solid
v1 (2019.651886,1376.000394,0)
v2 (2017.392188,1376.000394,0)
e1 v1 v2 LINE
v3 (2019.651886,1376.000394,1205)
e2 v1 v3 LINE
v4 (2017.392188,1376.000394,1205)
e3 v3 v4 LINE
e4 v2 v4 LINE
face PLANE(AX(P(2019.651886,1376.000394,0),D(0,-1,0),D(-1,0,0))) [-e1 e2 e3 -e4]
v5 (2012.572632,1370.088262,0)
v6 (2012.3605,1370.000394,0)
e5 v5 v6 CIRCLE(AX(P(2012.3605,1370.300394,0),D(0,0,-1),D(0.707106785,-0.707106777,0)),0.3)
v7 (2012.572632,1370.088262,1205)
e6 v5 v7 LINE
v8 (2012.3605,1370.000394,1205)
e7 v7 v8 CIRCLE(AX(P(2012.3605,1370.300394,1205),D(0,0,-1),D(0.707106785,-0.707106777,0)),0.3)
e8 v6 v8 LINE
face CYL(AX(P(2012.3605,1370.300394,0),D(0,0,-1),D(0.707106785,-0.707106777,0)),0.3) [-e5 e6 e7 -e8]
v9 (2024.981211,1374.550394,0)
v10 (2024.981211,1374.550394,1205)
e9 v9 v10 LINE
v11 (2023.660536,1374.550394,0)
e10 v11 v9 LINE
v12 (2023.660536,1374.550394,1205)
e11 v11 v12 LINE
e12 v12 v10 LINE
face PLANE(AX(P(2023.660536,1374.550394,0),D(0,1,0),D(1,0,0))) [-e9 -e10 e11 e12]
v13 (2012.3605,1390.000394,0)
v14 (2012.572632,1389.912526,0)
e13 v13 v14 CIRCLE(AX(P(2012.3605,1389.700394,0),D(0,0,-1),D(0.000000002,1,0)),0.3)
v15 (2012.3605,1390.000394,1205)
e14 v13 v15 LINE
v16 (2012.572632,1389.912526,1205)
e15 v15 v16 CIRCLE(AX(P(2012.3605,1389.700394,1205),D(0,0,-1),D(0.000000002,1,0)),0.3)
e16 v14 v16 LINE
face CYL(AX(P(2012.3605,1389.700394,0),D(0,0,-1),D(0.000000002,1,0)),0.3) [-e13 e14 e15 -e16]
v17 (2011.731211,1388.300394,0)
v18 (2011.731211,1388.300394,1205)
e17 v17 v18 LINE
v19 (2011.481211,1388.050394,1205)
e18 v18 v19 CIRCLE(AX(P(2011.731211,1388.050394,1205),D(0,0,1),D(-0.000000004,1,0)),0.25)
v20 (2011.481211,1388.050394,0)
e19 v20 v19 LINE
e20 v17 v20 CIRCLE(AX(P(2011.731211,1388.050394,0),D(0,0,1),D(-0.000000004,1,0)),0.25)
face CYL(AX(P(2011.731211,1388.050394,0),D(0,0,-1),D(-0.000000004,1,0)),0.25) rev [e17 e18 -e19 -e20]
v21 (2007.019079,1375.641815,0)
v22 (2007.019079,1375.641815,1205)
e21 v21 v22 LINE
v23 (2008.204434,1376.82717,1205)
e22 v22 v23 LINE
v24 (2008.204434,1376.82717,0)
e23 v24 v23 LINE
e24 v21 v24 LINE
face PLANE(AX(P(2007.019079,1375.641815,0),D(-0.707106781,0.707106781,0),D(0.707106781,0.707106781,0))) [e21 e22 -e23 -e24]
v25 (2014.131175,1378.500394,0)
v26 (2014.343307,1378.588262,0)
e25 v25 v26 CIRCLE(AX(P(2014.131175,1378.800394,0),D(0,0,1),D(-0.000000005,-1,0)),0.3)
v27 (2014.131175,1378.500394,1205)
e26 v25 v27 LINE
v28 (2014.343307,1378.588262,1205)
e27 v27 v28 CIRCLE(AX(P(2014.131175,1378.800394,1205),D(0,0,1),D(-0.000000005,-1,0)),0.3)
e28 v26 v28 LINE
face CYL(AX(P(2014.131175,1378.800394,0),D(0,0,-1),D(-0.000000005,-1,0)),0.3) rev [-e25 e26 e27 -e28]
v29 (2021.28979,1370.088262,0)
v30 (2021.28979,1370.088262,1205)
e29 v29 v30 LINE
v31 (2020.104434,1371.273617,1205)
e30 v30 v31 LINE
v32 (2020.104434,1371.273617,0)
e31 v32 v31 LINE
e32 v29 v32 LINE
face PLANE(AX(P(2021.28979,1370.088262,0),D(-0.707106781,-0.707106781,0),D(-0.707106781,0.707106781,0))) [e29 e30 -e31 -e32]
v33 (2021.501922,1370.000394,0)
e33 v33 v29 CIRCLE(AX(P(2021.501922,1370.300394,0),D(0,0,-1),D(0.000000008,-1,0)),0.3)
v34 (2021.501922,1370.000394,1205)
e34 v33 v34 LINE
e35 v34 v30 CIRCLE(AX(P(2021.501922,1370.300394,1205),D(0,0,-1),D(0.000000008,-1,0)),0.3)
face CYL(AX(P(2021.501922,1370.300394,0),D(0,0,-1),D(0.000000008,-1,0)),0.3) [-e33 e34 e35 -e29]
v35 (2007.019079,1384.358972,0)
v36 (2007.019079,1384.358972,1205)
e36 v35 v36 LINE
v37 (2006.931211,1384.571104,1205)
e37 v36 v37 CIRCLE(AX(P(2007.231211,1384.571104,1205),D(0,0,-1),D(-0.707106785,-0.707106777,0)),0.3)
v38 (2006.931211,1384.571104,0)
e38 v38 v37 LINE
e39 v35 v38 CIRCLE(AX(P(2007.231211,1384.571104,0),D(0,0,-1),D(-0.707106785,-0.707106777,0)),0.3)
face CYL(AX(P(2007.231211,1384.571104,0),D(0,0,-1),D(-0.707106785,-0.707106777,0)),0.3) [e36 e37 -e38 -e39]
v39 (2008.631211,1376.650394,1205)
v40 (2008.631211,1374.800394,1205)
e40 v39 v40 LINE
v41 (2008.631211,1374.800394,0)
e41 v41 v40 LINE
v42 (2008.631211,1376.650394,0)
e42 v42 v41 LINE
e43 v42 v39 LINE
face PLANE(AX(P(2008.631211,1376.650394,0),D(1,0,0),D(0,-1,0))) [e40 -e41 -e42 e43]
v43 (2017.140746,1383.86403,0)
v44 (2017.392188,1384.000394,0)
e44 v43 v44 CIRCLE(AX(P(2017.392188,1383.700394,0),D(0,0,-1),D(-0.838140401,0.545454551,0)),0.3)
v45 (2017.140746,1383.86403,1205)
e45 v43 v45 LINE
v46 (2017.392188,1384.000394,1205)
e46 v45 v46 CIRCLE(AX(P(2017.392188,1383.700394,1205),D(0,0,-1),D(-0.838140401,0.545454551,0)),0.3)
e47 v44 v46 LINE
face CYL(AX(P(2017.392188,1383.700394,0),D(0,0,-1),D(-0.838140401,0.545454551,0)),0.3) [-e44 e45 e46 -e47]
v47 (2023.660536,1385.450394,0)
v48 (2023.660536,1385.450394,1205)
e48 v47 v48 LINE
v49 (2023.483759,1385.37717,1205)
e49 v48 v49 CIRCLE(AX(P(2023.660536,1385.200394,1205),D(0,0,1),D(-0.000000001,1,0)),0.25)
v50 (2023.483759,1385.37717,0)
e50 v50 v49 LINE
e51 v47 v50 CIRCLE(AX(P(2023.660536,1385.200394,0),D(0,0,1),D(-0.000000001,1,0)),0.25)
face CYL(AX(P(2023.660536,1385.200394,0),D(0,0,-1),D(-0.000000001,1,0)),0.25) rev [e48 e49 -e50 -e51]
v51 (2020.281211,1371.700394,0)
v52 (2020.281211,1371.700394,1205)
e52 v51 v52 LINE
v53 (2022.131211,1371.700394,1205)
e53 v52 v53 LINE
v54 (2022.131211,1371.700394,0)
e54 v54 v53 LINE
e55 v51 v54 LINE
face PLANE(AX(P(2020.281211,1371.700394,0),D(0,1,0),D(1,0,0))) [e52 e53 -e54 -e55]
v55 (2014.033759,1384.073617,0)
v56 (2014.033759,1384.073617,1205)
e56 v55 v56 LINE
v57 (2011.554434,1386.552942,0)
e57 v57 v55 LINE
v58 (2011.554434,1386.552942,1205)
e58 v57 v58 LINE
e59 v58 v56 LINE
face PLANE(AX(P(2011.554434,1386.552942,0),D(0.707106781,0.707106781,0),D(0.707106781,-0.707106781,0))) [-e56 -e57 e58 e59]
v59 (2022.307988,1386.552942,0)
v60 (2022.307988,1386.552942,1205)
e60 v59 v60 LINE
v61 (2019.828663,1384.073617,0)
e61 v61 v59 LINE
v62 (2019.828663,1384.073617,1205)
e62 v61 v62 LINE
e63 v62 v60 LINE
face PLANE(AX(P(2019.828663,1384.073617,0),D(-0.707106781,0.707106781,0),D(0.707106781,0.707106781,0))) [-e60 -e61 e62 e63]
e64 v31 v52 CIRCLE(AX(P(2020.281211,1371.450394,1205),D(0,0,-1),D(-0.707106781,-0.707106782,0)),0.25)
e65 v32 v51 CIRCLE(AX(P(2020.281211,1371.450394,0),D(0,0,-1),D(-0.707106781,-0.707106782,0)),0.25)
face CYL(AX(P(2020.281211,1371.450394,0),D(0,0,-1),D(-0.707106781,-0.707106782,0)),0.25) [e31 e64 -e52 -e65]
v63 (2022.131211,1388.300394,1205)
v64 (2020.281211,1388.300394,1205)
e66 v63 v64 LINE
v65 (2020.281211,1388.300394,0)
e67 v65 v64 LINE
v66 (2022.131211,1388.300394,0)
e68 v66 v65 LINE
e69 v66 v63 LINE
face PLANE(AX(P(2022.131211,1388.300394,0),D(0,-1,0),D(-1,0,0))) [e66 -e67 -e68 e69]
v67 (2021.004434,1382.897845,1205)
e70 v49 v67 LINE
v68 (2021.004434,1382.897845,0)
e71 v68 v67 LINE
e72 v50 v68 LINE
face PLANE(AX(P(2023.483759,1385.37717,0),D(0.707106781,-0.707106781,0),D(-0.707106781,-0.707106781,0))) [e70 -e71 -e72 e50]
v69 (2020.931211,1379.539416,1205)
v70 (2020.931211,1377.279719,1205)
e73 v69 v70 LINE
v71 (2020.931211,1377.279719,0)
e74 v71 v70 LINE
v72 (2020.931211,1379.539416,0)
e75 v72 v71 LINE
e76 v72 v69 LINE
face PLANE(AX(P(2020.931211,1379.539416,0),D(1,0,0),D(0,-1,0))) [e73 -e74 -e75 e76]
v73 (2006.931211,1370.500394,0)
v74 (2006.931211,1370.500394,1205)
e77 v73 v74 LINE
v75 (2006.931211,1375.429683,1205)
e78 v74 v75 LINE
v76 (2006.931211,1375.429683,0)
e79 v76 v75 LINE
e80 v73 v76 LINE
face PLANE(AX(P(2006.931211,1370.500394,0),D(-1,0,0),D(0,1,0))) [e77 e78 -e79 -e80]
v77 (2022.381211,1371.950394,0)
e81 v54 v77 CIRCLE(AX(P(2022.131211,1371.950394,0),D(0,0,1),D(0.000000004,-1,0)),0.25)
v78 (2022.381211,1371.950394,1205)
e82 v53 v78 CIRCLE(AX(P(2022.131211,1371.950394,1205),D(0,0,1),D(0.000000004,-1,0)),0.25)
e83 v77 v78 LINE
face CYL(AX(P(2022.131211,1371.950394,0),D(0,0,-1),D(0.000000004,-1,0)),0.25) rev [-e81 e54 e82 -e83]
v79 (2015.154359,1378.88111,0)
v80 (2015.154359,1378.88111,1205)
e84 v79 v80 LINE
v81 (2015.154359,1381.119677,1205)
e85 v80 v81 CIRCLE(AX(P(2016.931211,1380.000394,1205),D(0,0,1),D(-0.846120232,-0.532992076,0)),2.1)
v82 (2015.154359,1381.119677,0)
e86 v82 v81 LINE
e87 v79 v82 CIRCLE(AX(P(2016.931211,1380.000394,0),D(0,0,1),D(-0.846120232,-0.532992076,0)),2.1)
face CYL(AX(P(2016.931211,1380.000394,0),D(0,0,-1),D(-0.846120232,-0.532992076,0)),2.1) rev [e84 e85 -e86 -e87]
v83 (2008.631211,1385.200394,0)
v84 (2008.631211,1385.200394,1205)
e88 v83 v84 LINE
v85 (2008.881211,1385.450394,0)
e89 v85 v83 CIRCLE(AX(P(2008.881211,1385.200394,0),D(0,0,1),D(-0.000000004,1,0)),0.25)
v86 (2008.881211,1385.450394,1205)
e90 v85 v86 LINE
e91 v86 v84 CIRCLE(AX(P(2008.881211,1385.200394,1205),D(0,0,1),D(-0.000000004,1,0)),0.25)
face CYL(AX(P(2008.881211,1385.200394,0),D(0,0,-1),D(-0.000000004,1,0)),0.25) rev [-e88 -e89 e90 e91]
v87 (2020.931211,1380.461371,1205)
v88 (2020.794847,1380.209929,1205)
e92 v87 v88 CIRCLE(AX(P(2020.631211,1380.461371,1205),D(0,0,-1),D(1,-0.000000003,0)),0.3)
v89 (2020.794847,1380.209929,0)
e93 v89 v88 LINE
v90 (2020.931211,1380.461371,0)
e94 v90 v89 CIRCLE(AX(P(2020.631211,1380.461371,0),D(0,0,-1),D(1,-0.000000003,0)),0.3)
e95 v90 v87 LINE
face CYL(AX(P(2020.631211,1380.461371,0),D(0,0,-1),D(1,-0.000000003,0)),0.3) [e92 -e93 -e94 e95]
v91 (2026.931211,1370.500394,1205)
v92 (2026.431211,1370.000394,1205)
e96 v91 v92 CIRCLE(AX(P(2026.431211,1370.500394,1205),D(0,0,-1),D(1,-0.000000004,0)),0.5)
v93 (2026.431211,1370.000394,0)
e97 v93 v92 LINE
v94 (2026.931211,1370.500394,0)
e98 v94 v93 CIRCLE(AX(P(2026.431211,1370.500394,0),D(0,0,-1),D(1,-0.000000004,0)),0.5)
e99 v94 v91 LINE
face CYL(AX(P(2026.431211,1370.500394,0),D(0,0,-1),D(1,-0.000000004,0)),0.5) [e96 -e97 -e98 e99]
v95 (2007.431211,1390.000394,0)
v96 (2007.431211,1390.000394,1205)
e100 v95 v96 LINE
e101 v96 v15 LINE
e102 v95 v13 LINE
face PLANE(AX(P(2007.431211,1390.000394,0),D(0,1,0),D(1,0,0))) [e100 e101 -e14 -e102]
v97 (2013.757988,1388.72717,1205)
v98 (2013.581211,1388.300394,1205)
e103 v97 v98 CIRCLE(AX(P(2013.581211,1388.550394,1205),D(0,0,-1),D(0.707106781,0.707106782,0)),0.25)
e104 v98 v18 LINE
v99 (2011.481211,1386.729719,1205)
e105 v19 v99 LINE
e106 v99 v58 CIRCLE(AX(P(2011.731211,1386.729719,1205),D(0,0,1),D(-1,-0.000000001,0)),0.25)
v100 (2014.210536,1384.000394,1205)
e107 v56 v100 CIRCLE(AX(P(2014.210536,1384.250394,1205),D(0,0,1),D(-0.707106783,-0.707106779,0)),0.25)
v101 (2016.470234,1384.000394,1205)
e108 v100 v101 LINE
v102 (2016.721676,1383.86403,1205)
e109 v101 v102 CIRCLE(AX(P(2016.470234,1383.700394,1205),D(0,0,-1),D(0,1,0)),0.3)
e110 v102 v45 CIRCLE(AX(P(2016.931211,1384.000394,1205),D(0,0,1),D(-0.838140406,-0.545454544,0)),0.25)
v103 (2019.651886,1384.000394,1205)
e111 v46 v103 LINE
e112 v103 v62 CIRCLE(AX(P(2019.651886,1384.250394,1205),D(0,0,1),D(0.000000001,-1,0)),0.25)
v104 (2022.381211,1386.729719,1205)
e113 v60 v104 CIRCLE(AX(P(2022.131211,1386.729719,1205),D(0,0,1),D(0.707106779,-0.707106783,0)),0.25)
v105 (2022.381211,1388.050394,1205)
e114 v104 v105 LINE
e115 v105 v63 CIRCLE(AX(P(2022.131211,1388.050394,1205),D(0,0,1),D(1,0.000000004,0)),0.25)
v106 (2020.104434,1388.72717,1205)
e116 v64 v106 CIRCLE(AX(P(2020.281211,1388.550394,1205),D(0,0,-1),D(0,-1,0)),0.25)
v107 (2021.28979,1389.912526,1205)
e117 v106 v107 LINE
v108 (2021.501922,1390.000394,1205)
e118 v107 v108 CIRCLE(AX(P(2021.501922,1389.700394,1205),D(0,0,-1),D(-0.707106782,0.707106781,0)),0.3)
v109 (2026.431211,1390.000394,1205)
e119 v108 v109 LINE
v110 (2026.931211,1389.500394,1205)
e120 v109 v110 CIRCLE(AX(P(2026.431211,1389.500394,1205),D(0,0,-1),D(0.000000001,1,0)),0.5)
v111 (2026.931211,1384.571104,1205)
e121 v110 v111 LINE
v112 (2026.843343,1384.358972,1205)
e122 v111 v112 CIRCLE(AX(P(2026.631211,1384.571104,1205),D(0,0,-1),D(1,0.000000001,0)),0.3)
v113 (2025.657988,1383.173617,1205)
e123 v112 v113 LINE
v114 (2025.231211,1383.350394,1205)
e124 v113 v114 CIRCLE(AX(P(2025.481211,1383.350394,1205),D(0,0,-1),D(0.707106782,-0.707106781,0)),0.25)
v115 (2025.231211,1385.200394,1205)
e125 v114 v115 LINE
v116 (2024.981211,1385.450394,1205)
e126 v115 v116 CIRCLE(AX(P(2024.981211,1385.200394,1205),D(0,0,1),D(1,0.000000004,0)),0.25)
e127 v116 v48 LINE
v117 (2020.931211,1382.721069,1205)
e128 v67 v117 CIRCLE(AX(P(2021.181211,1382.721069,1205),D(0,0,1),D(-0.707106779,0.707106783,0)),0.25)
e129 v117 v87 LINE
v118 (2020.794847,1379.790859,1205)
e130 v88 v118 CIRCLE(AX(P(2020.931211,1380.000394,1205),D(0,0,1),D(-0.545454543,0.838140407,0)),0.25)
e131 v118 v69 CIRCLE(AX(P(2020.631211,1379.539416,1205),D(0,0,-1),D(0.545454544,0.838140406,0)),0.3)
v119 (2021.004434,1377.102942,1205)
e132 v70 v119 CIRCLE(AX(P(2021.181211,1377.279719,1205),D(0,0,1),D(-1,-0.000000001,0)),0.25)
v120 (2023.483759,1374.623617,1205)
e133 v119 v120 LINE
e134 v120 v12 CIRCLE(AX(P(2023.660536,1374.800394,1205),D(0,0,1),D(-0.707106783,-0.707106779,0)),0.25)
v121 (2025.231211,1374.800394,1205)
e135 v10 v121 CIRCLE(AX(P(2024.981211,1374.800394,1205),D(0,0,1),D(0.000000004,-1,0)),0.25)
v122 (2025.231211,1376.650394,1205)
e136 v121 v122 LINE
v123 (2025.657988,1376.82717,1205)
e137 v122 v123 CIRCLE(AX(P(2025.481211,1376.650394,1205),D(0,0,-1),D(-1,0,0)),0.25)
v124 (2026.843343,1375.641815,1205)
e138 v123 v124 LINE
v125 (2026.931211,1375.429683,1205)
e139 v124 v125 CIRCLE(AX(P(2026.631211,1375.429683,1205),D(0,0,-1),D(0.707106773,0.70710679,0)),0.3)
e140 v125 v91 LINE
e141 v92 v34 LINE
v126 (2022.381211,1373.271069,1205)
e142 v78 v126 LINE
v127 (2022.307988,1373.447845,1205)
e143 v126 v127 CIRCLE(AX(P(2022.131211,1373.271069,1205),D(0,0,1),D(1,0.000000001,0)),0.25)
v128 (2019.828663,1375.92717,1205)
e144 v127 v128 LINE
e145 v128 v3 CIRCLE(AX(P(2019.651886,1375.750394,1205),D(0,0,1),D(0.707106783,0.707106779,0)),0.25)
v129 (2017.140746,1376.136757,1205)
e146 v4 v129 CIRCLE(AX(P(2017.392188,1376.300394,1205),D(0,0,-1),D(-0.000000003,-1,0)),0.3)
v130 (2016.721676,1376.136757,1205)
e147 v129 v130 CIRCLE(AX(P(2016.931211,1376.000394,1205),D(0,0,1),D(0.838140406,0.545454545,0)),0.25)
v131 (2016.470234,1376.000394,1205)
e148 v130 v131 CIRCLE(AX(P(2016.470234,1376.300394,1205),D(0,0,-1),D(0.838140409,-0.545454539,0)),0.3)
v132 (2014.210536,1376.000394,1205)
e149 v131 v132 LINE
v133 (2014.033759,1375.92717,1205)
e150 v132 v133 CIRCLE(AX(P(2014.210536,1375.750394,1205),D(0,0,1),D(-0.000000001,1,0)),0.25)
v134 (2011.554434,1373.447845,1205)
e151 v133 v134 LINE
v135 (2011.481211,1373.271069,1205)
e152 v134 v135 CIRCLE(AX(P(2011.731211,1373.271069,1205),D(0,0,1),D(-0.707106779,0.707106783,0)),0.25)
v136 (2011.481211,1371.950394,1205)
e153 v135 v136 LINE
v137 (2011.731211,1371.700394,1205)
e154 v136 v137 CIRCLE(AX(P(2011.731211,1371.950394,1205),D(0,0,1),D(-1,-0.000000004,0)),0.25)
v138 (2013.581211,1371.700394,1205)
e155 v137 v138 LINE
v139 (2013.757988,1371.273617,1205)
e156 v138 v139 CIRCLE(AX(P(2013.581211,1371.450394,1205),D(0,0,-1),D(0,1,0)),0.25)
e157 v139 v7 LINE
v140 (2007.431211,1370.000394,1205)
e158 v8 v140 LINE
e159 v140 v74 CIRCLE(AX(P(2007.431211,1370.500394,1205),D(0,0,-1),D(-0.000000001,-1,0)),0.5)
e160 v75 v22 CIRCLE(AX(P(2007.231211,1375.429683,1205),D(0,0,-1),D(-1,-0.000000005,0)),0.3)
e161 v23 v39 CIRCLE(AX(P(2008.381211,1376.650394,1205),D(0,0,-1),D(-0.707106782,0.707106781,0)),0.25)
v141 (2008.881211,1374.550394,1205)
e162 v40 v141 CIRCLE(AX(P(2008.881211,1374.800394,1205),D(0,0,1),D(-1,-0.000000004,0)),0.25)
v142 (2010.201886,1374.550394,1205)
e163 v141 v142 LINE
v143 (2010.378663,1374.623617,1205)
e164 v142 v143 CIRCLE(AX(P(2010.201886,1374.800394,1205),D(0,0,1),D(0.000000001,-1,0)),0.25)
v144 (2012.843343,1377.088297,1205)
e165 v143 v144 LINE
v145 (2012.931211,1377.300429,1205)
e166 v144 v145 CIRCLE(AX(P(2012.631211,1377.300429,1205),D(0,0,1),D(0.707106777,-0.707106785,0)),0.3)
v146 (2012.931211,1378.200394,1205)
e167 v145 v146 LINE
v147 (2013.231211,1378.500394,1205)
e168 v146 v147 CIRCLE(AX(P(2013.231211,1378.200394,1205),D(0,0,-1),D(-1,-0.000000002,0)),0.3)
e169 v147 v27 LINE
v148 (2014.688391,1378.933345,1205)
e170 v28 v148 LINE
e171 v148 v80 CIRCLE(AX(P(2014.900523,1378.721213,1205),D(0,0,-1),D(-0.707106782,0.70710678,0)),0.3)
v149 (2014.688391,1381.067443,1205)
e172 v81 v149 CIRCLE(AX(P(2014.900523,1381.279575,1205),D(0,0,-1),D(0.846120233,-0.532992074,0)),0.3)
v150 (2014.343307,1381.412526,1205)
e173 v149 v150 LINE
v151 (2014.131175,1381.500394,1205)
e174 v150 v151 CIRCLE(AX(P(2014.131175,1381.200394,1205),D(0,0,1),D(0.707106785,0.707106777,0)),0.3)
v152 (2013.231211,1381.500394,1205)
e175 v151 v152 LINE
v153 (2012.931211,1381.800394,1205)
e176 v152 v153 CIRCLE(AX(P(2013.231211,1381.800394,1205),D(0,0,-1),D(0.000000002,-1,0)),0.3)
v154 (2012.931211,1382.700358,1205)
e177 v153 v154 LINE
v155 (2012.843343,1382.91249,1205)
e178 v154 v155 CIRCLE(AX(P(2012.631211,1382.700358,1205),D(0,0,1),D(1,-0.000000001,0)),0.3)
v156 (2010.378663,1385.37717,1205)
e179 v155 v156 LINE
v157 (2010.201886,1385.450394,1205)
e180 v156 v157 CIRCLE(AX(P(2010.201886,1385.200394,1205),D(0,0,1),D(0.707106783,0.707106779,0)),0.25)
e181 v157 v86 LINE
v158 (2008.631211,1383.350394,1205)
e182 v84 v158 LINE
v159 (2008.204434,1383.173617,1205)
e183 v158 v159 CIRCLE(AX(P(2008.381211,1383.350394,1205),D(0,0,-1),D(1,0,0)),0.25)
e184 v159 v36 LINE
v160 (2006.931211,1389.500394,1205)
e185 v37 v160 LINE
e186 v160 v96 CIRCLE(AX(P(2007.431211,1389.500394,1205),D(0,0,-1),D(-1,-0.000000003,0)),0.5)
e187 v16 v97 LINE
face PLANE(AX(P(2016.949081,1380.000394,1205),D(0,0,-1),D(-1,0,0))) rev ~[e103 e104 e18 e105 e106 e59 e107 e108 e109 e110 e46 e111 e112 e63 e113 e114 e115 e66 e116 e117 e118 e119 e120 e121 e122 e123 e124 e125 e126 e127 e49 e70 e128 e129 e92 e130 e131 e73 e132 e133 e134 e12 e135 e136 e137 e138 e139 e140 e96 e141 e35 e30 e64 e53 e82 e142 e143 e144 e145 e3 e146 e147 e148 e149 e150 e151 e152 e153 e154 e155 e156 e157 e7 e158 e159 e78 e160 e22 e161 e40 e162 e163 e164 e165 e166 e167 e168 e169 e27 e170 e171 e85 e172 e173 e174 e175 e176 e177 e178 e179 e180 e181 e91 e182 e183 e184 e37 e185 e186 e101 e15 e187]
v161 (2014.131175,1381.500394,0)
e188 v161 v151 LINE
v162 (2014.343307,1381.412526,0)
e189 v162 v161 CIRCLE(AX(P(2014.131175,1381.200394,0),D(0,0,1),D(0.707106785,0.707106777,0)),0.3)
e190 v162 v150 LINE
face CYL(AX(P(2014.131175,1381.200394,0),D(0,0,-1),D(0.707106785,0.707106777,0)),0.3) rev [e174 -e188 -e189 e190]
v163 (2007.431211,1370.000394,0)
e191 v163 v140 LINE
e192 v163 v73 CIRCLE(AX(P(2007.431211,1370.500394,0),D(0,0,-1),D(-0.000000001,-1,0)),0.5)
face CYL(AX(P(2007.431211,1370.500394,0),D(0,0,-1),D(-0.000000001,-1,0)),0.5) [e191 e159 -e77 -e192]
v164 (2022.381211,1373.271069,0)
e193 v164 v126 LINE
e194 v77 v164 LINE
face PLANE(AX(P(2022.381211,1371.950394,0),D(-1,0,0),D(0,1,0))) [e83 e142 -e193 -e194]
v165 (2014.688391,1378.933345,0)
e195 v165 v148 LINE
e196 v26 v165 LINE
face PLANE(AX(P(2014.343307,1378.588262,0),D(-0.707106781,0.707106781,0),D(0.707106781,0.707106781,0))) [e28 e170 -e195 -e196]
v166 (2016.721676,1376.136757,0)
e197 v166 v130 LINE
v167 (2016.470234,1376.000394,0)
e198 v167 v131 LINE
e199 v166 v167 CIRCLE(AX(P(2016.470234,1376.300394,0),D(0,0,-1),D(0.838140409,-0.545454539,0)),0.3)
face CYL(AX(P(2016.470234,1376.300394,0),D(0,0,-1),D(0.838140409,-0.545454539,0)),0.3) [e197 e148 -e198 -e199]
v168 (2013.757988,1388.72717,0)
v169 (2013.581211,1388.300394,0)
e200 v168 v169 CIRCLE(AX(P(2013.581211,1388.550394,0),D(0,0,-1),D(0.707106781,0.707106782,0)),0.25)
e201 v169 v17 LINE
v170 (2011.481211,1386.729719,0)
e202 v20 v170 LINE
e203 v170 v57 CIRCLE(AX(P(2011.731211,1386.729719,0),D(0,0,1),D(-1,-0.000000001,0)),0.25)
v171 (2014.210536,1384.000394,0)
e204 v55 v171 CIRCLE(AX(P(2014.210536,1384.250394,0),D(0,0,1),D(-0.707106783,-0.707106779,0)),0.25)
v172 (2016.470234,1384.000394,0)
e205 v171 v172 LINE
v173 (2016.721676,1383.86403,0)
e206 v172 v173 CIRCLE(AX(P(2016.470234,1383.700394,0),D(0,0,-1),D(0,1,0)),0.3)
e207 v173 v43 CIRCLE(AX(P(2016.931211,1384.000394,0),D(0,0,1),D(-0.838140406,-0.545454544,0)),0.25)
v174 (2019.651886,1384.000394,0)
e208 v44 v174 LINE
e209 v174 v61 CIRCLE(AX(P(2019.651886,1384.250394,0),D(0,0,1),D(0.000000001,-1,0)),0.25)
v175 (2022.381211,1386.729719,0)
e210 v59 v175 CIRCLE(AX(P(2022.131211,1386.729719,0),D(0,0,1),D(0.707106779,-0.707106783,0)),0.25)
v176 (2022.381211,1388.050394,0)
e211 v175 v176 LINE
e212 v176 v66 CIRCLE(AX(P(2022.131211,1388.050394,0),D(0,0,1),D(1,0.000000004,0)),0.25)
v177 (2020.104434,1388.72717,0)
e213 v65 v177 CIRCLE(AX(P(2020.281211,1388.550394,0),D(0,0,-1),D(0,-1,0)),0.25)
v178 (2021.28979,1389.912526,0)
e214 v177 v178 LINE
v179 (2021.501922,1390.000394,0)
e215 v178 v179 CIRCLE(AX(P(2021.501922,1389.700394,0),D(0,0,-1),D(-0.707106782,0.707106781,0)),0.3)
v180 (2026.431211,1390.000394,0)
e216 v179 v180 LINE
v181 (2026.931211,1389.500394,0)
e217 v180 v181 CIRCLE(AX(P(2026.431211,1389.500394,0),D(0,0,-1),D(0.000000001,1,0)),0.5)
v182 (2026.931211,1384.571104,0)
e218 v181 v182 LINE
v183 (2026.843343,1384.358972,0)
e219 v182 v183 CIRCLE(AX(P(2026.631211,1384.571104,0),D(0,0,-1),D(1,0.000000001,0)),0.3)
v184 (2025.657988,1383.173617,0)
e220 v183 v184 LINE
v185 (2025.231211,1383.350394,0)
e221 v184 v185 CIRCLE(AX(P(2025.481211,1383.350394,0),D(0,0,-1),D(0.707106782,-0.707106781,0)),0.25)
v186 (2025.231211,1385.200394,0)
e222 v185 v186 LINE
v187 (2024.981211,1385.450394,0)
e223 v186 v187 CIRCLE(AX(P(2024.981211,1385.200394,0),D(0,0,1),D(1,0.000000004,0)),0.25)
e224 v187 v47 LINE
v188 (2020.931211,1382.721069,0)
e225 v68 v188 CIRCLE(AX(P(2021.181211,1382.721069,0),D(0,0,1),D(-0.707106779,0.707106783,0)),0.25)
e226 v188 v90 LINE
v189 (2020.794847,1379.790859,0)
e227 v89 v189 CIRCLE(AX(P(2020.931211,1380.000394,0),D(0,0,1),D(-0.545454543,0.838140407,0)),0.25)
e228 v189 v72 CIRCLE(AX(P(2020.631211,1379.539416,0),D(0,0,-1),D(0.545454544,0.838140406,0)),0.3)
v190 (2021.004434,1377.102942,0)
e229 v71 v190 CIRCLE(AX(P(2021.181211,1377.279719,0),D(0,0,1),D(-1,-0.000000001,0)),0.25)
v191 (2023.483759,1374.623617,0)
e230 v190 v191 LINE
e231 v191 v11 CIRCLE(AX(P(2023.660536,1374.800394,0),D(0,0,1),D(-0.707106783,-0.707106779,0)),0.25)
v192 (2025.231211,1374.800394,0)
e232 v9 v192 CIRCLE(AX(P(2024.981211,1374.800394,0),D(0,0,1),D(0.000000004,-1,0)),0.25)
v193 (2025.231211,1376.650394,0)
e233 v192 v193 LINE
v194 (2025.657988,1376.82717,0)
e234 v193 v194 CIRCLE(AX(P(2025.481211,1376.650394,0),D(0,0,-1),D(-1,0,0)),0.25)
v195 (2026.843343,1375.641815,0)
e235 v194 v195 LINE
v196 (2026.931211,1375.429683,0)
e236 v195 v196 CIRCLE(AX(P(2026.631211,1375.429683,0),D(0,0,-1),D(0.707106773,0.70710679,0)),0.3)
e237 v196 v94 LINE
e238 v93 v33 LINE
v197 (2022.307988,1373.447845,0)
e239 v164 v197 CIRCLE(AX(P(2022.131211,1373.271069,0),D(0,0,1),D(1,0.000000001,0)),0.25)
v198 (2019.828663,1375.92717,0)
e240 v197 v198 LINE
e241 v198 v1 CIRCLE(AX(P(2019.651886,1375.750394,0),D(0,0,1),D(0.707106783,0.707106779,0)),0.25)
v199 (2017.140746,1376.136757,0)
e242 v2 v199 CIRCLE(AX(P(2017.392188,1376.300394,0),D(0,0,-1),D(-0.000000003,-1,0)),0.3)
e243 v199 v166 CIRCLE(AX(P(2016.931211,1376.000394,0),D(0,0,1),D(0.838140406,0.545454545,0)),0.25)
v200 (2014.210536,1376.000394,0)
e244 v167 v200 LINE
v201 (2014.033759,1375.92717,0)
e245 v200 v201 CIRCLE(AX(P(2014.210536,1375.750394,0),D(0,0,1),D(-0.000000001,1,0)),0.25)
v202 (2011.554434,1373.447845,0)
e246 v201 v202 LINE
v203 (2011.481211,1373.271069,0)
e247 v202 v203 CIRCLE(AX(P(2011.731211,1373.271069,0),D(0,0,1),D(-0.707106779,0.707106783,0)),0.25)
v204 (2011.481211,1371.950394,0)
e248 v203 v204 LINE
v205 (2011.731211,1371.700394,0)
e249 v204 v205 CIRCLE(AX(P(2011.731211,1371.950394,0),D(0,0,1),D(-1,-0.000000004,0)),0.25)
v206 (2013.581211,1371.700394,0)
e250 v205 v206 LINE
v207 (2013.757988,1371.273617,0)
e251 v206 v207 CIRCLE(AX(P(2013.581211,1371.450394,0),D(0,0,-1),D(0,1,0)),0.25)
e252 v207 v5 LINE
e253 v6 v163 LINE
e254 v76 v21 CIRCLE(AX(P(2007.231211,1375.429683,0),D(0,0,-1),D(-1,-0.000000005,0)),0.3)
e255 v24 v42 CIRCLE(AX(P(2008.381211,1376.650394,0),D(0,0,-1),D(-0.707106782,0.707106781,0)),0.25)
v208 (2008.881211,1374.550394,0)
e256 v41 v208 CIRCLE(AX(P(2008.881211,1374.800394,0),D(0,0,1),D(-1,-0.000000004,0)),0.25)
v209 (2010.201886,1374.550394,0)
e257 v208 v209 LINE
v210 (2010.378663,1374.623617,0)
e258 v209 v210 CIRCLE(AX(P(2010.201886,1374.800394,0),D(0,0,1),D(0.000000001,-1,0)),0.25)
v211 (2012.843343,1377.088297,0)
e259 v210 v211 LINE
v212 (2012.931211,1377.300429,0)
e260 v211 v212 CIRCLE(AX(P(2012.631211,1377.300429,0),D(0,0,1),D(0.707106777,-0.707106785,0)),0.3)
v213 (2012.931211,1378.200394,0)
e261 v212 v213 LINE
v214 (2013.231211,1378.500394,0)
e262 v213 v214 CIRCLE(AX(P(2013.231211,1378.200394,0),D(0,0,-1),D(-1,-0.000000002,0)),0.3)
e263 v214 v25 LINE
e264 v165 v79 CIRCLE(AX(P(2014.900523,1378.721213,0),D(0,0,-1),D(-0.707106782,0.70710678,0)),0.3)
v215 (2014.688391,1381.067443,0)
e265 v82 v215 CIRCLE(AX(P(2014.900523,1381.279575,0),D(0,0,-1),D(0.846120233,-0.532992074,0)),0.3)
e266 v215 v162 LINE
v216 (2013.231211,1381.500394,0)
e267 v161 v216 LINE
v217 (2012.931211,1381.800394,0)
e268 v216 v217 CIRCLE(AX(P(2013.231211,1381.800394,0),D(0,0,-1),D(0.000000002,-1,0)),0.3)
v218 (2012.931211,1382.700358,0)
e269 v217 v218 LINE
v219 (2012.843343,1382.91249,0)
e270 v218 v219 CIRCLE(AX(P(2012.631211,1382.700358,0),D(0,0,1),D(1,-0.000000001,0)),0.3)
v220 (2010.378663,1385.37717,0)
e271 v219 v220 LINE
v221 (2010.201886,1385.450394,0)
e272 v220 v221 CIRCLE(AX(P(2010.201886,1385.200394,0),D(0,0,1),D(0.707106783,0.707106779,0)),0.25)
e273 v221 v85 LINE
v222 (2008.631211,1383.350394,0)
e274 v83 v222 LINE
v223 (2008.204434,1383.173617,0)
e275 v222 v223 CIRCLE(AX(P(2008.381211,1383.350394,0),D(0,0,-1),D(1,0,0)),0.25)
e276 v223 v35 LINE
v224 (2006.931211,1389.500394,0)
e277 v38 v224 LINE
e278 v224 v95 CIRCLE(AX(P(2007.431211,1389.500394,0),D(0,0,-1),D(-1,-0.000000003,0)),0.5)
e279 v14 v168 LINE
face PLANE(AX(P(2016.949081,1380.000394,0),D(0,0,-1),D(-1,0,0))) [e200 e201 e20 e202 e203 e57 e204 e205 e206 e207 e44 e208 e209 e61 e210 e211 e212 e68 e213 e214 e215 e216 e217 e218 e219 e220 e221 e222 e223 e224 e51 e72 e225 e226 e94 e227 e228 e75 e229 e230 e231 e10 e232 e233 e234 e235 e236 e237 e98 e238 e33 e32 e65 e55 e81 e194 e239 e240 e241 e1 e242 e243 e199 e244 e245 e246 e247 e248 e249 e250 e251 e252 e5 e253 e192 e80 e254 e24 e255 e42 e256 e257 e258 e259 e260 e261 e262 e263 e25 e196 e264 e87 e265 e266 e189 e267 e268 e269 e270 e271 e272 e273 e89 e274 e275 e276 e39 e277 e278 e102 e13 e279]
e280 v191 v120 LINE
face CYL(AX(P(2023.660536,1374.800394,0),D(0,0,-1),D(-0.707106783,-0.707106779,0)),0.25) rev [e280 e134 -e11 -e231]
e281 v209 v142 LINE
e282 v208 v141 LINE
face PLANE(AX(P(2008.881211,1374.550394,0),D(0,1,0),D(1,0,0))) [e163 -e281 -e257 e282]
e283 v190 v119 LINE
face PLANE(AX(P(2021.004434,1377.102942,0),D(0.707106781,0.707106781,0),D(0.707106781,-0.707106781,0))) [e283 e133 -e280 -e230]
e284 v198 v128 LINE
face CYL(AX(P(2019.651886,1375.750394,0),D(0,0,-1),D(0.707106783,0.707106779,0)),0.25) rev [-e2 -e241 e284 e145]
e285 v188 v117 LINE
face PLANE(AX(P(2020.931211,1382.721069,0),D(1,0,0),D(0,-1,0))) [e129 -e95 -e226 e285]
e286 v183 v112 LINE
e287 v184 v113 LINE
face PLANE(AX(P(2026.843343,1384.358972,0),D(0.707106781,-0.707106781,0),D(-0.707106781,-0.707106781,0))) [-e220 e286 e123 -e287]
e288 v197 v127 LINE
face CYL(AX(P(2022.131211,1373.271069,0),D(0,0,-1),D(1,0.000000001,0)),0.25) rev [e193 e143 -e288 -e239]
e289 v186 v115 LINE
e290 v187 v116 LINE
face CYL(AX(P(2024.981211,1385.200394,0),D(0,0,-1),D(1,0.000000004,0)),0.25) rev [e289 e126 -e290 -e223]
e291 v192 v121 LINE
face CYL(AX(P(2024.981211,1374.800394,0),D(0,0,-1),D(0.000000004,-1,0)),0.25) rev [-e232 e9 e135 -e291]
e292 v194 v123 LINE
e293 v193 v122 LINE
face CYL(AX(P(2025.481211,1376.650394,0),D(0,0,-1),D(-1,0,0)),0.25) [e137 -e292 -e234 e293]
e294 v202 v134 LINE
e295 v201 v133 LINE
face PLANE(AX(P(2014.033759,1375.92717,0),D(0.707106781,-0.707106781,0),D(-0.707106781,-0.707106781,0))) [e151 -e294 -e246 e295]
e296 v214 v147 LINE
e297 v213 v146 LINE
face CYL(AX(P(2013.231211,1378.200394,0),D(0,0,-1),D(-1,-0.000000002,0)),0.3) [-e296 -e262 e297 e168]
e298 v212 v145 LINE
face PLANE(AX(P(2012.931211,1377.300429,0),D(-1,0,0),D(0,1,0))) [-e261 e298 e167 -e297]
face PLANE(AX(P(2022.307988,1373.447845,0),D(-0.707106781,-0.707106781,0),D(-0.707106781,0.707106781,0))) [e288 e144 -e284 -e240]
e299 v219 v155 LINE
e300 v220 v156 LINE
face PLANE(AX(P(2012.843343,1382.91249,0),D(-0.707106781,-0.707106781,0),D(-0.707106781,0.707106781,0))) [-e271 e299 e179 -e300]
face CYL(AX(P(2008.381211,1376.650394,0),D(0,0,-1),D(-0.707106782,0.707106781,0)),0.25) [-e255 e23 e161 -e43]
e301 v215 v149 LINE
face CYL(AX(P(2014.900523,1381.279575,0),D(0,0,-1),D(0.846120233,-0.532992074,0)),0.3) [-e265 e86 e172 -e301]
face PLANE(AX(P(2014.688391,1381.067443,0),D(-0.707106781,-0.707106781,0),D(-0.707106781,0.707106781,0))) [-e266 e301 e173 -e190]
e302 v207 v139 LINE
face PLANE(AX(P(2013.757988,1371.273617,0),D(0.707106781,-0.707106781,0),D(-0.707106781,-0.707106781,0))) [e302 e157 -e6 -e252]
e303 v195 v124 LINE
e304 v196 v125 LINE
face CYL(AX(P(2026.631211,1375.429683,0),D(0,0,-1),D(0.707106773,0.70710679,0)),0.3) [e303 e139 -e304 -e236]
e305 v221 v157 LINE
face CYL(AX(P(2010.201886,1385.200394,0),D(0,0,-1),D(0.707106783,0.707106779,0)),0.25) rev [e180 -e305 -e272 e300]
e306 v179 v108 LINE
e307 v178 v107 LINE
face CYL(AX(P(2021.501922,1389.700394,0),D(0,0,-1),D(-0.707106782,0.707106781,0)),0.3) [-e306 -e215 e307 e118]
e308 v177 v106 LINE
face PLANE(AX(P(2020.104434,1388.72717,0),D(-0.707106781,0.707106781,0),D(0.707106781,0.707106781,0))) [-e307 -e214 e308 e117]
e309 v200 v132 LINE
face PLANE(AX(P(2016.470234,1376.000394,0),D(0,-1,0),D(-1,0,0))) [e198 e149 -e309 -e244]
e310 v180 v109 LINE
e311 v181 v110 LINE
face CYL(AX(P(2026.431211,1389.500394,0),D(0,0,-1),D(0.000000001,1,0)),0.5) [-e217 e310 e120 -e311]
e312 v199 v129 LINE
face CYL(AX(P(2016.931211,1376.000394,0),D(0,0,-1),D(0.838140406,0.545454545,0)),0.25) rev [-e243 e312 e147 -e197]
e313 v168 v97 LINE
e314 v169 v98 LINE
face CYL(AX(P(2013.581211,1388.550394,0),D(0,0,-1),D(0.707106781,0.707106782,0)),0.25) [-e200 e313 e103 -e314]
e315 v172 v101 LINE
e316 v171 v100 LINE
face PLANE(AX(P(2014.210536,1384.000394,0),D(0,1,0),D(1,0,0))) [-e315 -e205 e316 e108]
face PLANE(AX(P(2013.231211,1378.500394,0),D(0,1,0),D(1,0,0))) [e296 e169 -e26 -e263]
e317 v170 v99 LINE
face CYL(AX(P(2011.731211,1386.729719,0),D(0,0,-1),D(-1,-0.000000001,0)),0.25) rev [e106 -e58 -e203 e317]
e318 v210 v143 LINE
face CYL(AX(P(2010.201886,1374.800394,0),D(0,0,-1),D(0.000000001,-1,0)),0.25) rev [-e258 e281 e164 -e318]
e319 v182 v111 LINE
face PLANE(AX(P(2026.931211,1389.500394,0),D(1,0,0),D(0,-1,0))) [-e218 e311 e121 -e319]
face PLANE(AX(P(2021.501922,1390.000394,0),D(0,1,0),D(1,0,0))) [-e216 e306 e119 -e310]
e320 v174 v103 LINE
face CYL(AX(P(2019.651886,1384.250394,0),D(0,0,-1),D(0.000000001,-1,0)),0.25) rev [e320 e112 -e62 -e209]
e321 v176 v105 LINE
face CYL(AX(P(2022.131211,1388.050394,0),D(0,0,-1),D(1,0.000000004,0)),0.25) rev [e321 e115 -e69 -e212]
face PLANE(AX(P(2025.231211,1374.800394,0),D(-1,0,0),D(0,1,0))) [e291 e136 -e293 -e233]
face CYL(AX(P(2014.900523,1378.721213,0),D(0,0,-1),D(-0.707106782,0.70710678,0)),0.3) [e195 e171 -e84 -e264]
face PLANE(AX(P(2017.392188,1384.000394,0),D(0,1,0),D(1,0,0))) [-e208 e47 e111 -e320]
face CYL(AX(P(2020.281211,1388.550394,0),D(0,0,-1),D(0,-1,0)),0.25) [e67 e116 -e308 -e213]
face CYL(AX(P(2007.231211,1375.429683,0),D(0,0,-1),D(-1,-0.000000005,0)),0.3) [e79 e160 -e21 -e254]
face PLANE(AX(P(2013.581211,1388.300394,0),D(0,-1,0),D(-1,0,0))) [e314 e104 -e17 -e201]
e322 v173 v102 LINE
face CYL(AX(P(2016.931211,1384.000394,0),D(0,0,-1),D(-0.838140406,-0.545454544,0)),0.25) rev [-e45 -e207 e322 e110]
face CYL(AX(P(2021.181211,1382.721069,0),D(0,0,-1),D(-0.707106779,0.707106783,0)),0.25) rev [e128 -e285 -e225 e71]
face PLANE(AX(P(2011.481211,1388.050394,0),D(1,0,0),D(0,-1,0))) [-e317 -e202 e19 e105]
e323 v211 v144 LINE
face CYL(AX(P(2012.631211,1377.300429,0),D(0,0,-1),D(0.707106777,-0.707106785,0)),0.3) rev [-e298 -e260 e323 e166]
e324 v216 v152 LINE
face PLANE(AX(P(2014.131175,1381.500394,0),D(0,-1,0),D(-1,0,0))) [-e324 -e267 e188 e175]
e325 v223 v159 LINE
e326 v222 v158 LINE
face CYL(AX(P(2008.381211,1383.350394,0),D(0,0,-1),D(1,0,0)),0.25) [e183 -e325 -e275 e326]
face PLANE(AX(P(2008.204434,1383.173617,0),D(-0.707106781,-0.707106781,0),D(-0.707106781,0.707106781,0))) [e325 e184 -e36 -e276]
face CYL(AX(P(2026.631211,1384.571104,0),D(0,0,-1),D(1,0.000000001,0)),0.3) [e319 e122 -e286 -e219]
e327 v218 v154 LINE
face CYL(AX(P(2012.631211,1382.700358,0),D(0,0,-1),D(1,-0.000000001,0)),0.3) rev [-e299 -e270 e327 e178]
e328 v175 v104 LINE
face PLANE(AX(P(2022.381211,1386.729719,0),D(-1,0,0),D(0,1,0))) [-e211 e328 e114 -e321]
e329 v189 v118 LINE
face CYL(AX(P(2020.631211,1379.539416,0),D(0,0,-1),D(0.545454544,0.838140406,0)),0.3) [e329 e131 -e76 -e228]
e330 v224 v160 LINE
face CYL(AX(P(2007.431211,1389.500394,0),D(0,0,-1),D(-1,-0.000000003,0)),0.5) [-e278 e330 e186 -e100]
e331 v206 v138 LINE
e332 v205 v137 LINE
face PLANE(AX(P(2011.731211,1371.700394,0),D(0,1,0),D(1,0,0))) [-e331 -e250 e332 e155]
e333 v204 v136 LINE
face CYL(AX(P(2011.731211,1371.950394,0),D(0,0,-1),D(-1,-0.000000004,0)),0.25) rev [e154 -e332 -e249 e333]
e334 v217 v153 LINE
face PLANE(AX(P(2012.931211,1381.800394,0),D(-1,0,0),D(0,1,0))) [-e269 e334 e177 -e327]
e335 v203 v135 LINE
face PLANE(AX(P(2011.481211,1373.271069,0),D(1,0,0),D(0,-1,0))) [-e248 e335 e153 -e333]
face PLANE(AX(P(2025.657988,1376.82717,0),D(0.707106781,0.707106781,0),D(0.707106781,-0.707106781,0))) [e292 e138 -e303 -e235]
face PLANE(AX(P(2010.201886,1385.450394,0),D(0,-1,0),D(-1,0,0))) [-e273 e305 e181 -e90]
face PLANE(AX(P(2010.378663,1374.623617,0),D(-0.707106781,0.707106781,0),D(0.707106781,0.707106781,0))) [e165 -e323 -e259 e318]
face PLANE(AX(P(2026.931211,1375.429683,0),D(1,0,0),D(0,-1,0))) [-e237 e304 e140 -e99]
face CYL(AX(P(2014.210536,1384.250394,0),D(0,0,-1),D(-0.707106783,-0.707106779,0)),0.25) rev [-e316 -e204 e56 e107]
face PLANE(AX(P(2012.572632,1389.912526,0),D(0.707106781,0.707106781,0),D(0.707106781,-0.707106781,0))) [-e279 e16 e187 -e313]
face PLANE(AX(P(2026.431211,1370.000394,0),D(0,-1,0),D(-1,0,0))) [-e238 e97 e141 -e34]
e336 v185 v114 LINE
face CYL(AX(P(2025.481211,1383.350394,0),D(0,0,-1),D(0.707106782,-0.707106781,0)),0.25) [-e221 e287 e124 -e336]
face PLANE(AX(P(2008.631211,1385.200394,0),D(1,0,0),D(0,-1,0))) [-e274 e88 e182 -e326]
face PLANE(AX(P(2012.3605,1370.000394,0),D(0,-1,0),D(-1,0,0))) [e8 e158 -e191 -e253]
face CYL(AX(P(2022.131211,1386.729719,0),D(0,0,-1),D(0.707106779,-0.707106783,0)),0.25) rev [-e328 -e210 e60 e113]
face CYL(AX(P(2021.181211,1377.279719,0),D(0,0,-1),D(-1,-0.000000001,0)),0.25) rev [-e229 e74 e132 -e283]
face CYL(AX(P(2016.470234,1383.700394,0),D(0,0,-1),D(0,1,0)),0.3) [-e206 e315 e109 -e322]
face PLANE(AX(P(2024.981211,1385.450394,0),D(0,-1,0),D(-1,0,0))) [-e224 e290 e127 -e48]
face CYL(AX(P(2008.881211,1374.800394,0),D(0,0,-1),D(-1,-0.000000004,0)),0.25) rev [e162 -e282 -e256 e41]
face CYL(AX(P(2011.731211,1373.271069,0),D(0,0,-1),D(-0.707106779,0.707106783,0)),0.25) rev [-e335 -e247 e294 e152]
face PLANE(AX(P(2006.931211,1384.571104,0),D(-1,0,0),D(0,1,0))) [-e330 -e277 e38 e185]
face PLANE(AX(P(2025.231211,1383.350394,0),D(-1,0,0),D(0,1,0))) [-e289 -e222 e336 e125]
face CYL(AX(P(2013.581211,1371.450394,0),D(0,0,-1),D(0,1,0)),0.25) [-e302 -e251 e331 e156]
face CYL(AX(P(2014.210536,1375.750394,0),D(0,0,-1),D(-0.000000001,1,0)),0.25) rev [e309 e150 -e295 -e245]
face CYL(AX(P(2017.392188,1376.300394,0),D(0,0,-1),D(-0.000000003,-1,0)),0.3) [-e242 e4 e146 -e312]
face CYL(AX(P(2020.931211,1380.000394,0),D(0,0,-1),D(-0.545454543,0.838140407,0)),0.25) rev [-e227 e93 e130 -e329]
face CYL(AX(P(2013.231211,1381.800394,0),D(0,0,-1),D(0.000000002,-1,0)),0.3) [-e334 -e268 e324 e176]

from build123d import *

# Parameters (mm, degrees)
BOSS_EXTRUDE1_DEPTH = 1205


with BuildPart() as part:
    # Model → Boss-Extrude1 (new body)
    with BuildSketch(Plane.XY):
        with BuildLine():
            Line((2013.231211125, 1378.500393717), (2014.131175411, 1378.500393717))
            ThreePointArc((2014.131175411, 1378.500393717), (2014.245980441, 1378.523229857), (2014.343307446, 1378.588261683))
            Line((2014.343307446, 1378.588261683), (2014.688390533, 1378.93334477))
            ThreePointArc((2014.688390533, 1378.93334477), (2014.933942847, 1379.019345399), (2015.154358637, 1378.881110358))
            ThreePointArc((2015.154358637, 1378.881110358), (2019.031211125, 1380.000393717), (2015.154358637, 1381.119677076))
            ThreePointArc((2015.154358637, 1381.119677076), (2014.933942847, 1380.981442035), (2014.688390533, 1381.067442664))
            Line((2014.688390533, 1381.067442664), (2014.343307446, 1381.412525751))
            ThreePointArc((2014.343307446, 1381.412525751), (2014.245980441, 1381.477557577), (2014.131175412, 1381.500393717))
            Line((2014.131175412, 1381.500393717), (2013.231211125, 1381.500393717))
            ThreePointArc((2013.231211125, 1381.500393717), (2013.01907909, 1381.588261683), (2012.931211125, 1381.800393717))
            Line((2012.931211125, 1381.800393717), (2012.931211125, 1382.700358004))
            ThreePointArc((2012.931211125, 1382.700358004), (2012.908374985, 1382.815163033), (2012.843343159, 1382.912490038))
            Line((2012.843343159, 1382.912490038), (2010.378662785, 1385.377170412))
            ThreePointArc((2010.378662785, 1385.377170412), (2010.297556948, 1385.4313636), (2010.20188609, 1385.450393717))
            Line((2010.20188609, 1385.450393717), (2008.881211125, 1385.450393717))
            ThreePointArc((2008.881211125, 1385.450393717), (2008.70443443, 1385.377170412), (2008.631211125, 1385.200393717))
            Line((2008.631211125, 1385.200393717), (2008.631211125, 1383.350393717))
            ThreePointArc((2008.631211125, 1383.350393717), (2008.476881983, 1383.119423834), (2008.20443443, 1383.173617022))
            Line((2008.20443443, 1383.173617022), (2007.01907909, 1384.358972361))
            ThreePointArc((2007.01907909, 1384.358972361), (2006.954047265, 1384.456299366), (2006.931211125, 1384.571104395))
            Line((2006.931211125, 1384.571104395), (2006.931211125, 1389.500393717))
            ThreePointArc((2006.931211125, 1389.500393717), (2007.077657734, 1389.853947108), (2007.431211125, 1390.000393717))
            Line((2007.431211125, 1390.000393717), (2012.360500447, 1390.000393717))
            ThreePointArc((2012.360500447, 1390.000393717), (2012.475305476, 1389.977557577), (2012.572632481, 1389.912525752))
            Line((2012.572632481, 1389.912525752), (2013.75798782, 1388.727170412))
            ThreePointArc((2013.75798782, 1388.727170412), (2013.812181008, 1388.454722859), (2013.581211125, 1388.300393717))
            Line((2013.581211125, 1388.300393717), (2011.731211125, 1388.300393717))
            ThreePointArc((2011.731211125, 1388.300393717), (2011.55443443, 1388.227170412), (2011.481211125, 1388.050393717))
            Line((2011.481211125, 1388.050393717), (2011.481211125, 1386.729718752))
            ThreePointArc((2011.481211125, 1386.729718752), (2011.500241242, 1386.634047894), (2011.55443443, 1386.552942057))
            Line((2011.55443443, 1386.552942057), (2014.033759465, 1384.073617022))
            ThreePointArc((2014.033759465, 1384.073617022), (2014.114865302, 1384.019423834), (2014.21053616, 1384.000393717))
            Line((2014.21053616, 1384.000393717), (2016.470233902, 1384.000393717))
            ThreePointArc((2016.470233902, 1384.000393717), (2016.61325329, 1383.964108439), (2016.721676023, 1383.864030081))
            ThreePointArc((2016.721676023, 1383.864030081), (2016.931211125, 1383.750393717), (2017.140746226, 1383.864030081))
            ThreePointArc((2017.140746226, 1383.864030081), (2017.24916896, 1383.964108439), (2017.392188348, 1384.000393717))
            Line((2017.392188348, 1384.000393717), (2019.65188609, 1384.000393717))
            ThreePointArc((2019.65188609, 1384.000393717), (2019.747556948, 1384.019423834), (2019.828662785, 1384.073617022))
            Line((2019.828662785, 1384.073617022), (2022.30798782, 1386.552942057))
            ThreePointArc((2022.30798782, 1386.552942057), (2022.362181008, 1386.634047894), (2022.381211125, 1386.729718752))
            Line((2022.381211125, 1386.729718752), (2022.381211125, 1388.050393717))
            ThreePointArc((2022.381211125, 1388.050393717), (2022.30798782, 1388.227170412), (2022.131211125, 1388.300393717))
            Line((2022.131211125, 1388.300393717), (2020.281211125, 1388.300393717))
            ThreePointArc((2020.281211125, 1388.300393717), (2020.050241242, 1388.454722859), (2020.10443443, 1388.727170412))
            Line((2020.10443443, 1388.727170412), (2021.289789769, 1389.912525752))
            ThreePointArc((2021.289789769, 1389.912525752), (2021.387116773, 1389.977557577), (2021.501921803, 1390.000393717))
            Line((2021.501921803, 1390.000393717), (2026.431211125, 1390.000393717))
            ThreePointArc((2026.431211125, 1390.000393717), (2026.784764515, 1389.853947108), (2026.931211125, 1389.500393717))
            Line((2026.931211125, 1389.500393717), (2026.931211125, 1384.571104395))
            ThreePointArc((2026.931211125, 1384.571104395), (2026.908374985, 1384.456299366), (2026.843343159, 1384.358972361))
            Line((2026.843343159, 1384.358972361), (2025.65798782, 1383.173617022))
            ThreePointArc((2025.65798782, 1383.173617022), (2025.385540267, 1383.119423834), (2025.231211125, 1383.350393717))
            Line((2025.231211125, 1383.350393717), (2025.231211125, 1385.200393717))
            ThreePointArc((2025.231211125, 1385.200393717), (2025.15798782, 1385.377170412), (2024.981211125, 1385.450393717))
            Line((2024.981211125, 1385.450393717), (2023.66053616, 1385.450393717))
            ThreePointArc((2023.66053616, 1385.450393717), (2023.564865302, 1385.4313636), (2023.483759465, 1385.377170412))
            Line((2023.483759465, 1385.377170412), (2021.00443443, 1382.897845377))
            ThreePointArc((2021.00443443, 1382.897845377), (2020.950241242, 1382.81673954), (2020.931211125, 1382.721068682))
            Line((2020.931211125, 1382.721068682), (2020.931211125, 1380.46137094))
            ThreePointArc((2020.931211125, 1380.46137094), (2020.894925847, 1380.318351552), (2020.794847489, 1380.209928818))
            ThreePointArc((2020.794847489, 1380.209928818), (2020.681211125, 1380.000393717), (2020.794847488, 1379.790858616))
            ThreePointArc((2020.794847488, 1379.790858616), (2020.894925847, 1379.682435882), (2020.931211125, 1379.539416494))
            Line((2020.931211125, 1379.539416494), (2020.931211125, 1377.279718752))
            ThreePointArc((2020.931211125, 1377.279718752), (2020.950241242, 1377.184047894), (2021.00443443, 1377.102942057))
            Line((2021.00443443, 1377.102942057), (2023.483759465, 1374.623617022))
            ThreePointArc((2023.483759465, 1374.623617022), (2023.564865302, 1374.569423834), (2023.66053616, 1374.550393717))
            Line((2023.66053616, 1374.550393717), (2024.981211125, 1374.550393717))
            ThreePointArc((2024.981211125, 1374.550393717), (2025.15798782, 1374.623617022), (2025.231211125, 1374.800393717))
            Line((2025.231211125, 1374.800393717), (2025.231211125, 1376.650393717))
            ThreePointArc((2025.231211125, 1376.650393717), (2025.385540267, 1376.8813636), (2025.65798782, 1376.827170412))
            Line((2025.65798782, 1376.827170412), (2026.843343159, 1375.641815073))
            ThreePointArc((2026.843343159, 1375.641815073), (2026.908374985, 1375.544488069), (2026.931211125, 1375.429683039))
            Line((2026.931211125, 1375.429683039), (2026.931211125, 1370.500393717))
            ThreePointArc((2026.931211125, 1370.500393717), (2026.784764515, 1370.146840327), (2026.431211125, 1370.000393717))
            Line((2026.431211125, 1370.000393717), (2021.501921803, 1370.000393717))
            ThreePointArc((2021.501921803, 1370.000393717), (2021.387116773, 1370.023229857), (2021.289789769, 1370.088261683))
            Line((2021.289789769, 1370.088261683), (2020.10443443, 1371.273617022))
            ThreePointArc((2020.10443443, 1371.273617022), (2020.050241242, 1371.546064575), (2020.281211125, 1371.700393717))
            Line((2020.281211125, 1371.700393717), (2022.131211125, 1371.700393717))
            ThreePointArc((2022.131211125, 1371.700393717), (2022.30798782, 1371.773617022), (2022.381211125, 1371.950393717))
            Line((2022.381211125, 1371.950393717), (2022.381211125, 1373.271068682))
            ThreePointArc((2022.381211125, 1373.271068682), (2022.362181008, 1373.36673954), (2022.30798782, 1373.447845377))
            Line((2022.30798782, 1373.447845377), (2019.828662785, 1375.927170412))
            ThreePointArc((2019.828662785, 1375.927170412), (2019.747556948, 1375.9813636), (2019.65188609, 1376.000393717))
            Line((2019.65188609, 1376.000393717), (2017.392188348, 1376.000393717))
            ThreePointArc((2017.392188348, 1376.000393717), (2017.24916896, 1376.036678995), (2017.140746226, 1376.136757353))
            ThreePointArc((2017.140746226, 1376.136757353), (2016.931211125, 1376.250393717), (2016.721676023, 1376.136757354))
            ThreePointArc((2016.721676023, 1376.136757354), (2016.61325329, 1376.036678995), (2016.470233902, 1376.000393717))
            Line((2016.470233902, 1376.000393717), (2014.21053616, 1376.000393717))
            ThreePointArc((2014.21053616, 1376.000393717), (2014.114865302, 1375.9813636), (2014.033759465, 1375.927170412))
            Line((2014.033759465, 1375.927170412), (2011.55443443, 1373.447845377))
            ThreePointArc((2011.55443443, 1373.447845377), (2011.500241242, 1373.36673954), (2011.481211125, 1373.271068682))
            Line((2011.481211125, 1373.271068682), (2011.481211125, 1371.950393717))
            ThreePointArc((2011.481211125, 1371.950393717), (2011.55443443, 1371.773617022), (2011.731211125, 1371.700393717))
            Line((2011.731211125, 1371.700393717), (2013.581211125, 1371.700393717))
            ThreePointArc((2013.581211125, 1371.700393717), (2013.812181008, 1371.546064575), (2013.75798782, 1371.273617022))
            Line((2013.75798782, 1371.273617022), (2012.572632481, 1370.088261683))
            ThreePointArc((2012.572632481, 1370.088261683), (2012.475305476, 1370.023229857), (2012.360500447, 1370.000393717))
            Line((2012.360500447, 1370.000393717), (2007.431211125, 1370.000393717))
            ThreePointArc((2007.431211125, 1370.000393717), (2007.077657734, 1370.146840327), (2006.931211125, 1370.500393717))
            Line((2006.931211125, 1370.500393717), (2006.931211125, 1375.429683039))
            ThreePointArc((2006.931211125, 1375.429683039), (2006.954047265, 1375.544488069), (2007.01907909, 1375.641815073))
            Line((2007.01907909, 1375.641815073), (2008.20443443, 1376.827170412))
            ThreePointArc((2008.20443443, 1376.827170412), (2008.476881983, 1376.8813636), (2008.631211125, 1376.650393717))
            Line((2008.631211125, 1376.650393717), (2008.631211125, 1374.800393717))
            ThreePointArc((2008.631211125, 1374.800393717), (2008.70443443, 1374.623617022), (2008.881211125, 1374.550393717))
            Line((2008.881211125, 1374.550393717), (2010.20188609, 1374.550393717))
            ThreePointArc((2010.20188609, 1374.550393717), (2010.297556948, 1374.569423834), (2010.378662785, 1374.623617022))
            Line((2010.378662785, 1374.623617022), (2012.843343159, 1377.088297396))
            ThreePointArc((2012.843343159, 1377.088297396), (2012.908374985, 1377.185624401), (2012.931211125, 1377.300429431))
            Line((2012.931211125, 1377.300429431), (2012.931211125, 1378.200393717))
            ThreePointArc((2012.931211125, 1378.200393717), (2013.01907909, 1378.412525751), (2013.231211125, 1378.500393717))
        make_face()
    extrude(amount=BOSS_EXTRUDE1_DEPTH)


solid = part.part
